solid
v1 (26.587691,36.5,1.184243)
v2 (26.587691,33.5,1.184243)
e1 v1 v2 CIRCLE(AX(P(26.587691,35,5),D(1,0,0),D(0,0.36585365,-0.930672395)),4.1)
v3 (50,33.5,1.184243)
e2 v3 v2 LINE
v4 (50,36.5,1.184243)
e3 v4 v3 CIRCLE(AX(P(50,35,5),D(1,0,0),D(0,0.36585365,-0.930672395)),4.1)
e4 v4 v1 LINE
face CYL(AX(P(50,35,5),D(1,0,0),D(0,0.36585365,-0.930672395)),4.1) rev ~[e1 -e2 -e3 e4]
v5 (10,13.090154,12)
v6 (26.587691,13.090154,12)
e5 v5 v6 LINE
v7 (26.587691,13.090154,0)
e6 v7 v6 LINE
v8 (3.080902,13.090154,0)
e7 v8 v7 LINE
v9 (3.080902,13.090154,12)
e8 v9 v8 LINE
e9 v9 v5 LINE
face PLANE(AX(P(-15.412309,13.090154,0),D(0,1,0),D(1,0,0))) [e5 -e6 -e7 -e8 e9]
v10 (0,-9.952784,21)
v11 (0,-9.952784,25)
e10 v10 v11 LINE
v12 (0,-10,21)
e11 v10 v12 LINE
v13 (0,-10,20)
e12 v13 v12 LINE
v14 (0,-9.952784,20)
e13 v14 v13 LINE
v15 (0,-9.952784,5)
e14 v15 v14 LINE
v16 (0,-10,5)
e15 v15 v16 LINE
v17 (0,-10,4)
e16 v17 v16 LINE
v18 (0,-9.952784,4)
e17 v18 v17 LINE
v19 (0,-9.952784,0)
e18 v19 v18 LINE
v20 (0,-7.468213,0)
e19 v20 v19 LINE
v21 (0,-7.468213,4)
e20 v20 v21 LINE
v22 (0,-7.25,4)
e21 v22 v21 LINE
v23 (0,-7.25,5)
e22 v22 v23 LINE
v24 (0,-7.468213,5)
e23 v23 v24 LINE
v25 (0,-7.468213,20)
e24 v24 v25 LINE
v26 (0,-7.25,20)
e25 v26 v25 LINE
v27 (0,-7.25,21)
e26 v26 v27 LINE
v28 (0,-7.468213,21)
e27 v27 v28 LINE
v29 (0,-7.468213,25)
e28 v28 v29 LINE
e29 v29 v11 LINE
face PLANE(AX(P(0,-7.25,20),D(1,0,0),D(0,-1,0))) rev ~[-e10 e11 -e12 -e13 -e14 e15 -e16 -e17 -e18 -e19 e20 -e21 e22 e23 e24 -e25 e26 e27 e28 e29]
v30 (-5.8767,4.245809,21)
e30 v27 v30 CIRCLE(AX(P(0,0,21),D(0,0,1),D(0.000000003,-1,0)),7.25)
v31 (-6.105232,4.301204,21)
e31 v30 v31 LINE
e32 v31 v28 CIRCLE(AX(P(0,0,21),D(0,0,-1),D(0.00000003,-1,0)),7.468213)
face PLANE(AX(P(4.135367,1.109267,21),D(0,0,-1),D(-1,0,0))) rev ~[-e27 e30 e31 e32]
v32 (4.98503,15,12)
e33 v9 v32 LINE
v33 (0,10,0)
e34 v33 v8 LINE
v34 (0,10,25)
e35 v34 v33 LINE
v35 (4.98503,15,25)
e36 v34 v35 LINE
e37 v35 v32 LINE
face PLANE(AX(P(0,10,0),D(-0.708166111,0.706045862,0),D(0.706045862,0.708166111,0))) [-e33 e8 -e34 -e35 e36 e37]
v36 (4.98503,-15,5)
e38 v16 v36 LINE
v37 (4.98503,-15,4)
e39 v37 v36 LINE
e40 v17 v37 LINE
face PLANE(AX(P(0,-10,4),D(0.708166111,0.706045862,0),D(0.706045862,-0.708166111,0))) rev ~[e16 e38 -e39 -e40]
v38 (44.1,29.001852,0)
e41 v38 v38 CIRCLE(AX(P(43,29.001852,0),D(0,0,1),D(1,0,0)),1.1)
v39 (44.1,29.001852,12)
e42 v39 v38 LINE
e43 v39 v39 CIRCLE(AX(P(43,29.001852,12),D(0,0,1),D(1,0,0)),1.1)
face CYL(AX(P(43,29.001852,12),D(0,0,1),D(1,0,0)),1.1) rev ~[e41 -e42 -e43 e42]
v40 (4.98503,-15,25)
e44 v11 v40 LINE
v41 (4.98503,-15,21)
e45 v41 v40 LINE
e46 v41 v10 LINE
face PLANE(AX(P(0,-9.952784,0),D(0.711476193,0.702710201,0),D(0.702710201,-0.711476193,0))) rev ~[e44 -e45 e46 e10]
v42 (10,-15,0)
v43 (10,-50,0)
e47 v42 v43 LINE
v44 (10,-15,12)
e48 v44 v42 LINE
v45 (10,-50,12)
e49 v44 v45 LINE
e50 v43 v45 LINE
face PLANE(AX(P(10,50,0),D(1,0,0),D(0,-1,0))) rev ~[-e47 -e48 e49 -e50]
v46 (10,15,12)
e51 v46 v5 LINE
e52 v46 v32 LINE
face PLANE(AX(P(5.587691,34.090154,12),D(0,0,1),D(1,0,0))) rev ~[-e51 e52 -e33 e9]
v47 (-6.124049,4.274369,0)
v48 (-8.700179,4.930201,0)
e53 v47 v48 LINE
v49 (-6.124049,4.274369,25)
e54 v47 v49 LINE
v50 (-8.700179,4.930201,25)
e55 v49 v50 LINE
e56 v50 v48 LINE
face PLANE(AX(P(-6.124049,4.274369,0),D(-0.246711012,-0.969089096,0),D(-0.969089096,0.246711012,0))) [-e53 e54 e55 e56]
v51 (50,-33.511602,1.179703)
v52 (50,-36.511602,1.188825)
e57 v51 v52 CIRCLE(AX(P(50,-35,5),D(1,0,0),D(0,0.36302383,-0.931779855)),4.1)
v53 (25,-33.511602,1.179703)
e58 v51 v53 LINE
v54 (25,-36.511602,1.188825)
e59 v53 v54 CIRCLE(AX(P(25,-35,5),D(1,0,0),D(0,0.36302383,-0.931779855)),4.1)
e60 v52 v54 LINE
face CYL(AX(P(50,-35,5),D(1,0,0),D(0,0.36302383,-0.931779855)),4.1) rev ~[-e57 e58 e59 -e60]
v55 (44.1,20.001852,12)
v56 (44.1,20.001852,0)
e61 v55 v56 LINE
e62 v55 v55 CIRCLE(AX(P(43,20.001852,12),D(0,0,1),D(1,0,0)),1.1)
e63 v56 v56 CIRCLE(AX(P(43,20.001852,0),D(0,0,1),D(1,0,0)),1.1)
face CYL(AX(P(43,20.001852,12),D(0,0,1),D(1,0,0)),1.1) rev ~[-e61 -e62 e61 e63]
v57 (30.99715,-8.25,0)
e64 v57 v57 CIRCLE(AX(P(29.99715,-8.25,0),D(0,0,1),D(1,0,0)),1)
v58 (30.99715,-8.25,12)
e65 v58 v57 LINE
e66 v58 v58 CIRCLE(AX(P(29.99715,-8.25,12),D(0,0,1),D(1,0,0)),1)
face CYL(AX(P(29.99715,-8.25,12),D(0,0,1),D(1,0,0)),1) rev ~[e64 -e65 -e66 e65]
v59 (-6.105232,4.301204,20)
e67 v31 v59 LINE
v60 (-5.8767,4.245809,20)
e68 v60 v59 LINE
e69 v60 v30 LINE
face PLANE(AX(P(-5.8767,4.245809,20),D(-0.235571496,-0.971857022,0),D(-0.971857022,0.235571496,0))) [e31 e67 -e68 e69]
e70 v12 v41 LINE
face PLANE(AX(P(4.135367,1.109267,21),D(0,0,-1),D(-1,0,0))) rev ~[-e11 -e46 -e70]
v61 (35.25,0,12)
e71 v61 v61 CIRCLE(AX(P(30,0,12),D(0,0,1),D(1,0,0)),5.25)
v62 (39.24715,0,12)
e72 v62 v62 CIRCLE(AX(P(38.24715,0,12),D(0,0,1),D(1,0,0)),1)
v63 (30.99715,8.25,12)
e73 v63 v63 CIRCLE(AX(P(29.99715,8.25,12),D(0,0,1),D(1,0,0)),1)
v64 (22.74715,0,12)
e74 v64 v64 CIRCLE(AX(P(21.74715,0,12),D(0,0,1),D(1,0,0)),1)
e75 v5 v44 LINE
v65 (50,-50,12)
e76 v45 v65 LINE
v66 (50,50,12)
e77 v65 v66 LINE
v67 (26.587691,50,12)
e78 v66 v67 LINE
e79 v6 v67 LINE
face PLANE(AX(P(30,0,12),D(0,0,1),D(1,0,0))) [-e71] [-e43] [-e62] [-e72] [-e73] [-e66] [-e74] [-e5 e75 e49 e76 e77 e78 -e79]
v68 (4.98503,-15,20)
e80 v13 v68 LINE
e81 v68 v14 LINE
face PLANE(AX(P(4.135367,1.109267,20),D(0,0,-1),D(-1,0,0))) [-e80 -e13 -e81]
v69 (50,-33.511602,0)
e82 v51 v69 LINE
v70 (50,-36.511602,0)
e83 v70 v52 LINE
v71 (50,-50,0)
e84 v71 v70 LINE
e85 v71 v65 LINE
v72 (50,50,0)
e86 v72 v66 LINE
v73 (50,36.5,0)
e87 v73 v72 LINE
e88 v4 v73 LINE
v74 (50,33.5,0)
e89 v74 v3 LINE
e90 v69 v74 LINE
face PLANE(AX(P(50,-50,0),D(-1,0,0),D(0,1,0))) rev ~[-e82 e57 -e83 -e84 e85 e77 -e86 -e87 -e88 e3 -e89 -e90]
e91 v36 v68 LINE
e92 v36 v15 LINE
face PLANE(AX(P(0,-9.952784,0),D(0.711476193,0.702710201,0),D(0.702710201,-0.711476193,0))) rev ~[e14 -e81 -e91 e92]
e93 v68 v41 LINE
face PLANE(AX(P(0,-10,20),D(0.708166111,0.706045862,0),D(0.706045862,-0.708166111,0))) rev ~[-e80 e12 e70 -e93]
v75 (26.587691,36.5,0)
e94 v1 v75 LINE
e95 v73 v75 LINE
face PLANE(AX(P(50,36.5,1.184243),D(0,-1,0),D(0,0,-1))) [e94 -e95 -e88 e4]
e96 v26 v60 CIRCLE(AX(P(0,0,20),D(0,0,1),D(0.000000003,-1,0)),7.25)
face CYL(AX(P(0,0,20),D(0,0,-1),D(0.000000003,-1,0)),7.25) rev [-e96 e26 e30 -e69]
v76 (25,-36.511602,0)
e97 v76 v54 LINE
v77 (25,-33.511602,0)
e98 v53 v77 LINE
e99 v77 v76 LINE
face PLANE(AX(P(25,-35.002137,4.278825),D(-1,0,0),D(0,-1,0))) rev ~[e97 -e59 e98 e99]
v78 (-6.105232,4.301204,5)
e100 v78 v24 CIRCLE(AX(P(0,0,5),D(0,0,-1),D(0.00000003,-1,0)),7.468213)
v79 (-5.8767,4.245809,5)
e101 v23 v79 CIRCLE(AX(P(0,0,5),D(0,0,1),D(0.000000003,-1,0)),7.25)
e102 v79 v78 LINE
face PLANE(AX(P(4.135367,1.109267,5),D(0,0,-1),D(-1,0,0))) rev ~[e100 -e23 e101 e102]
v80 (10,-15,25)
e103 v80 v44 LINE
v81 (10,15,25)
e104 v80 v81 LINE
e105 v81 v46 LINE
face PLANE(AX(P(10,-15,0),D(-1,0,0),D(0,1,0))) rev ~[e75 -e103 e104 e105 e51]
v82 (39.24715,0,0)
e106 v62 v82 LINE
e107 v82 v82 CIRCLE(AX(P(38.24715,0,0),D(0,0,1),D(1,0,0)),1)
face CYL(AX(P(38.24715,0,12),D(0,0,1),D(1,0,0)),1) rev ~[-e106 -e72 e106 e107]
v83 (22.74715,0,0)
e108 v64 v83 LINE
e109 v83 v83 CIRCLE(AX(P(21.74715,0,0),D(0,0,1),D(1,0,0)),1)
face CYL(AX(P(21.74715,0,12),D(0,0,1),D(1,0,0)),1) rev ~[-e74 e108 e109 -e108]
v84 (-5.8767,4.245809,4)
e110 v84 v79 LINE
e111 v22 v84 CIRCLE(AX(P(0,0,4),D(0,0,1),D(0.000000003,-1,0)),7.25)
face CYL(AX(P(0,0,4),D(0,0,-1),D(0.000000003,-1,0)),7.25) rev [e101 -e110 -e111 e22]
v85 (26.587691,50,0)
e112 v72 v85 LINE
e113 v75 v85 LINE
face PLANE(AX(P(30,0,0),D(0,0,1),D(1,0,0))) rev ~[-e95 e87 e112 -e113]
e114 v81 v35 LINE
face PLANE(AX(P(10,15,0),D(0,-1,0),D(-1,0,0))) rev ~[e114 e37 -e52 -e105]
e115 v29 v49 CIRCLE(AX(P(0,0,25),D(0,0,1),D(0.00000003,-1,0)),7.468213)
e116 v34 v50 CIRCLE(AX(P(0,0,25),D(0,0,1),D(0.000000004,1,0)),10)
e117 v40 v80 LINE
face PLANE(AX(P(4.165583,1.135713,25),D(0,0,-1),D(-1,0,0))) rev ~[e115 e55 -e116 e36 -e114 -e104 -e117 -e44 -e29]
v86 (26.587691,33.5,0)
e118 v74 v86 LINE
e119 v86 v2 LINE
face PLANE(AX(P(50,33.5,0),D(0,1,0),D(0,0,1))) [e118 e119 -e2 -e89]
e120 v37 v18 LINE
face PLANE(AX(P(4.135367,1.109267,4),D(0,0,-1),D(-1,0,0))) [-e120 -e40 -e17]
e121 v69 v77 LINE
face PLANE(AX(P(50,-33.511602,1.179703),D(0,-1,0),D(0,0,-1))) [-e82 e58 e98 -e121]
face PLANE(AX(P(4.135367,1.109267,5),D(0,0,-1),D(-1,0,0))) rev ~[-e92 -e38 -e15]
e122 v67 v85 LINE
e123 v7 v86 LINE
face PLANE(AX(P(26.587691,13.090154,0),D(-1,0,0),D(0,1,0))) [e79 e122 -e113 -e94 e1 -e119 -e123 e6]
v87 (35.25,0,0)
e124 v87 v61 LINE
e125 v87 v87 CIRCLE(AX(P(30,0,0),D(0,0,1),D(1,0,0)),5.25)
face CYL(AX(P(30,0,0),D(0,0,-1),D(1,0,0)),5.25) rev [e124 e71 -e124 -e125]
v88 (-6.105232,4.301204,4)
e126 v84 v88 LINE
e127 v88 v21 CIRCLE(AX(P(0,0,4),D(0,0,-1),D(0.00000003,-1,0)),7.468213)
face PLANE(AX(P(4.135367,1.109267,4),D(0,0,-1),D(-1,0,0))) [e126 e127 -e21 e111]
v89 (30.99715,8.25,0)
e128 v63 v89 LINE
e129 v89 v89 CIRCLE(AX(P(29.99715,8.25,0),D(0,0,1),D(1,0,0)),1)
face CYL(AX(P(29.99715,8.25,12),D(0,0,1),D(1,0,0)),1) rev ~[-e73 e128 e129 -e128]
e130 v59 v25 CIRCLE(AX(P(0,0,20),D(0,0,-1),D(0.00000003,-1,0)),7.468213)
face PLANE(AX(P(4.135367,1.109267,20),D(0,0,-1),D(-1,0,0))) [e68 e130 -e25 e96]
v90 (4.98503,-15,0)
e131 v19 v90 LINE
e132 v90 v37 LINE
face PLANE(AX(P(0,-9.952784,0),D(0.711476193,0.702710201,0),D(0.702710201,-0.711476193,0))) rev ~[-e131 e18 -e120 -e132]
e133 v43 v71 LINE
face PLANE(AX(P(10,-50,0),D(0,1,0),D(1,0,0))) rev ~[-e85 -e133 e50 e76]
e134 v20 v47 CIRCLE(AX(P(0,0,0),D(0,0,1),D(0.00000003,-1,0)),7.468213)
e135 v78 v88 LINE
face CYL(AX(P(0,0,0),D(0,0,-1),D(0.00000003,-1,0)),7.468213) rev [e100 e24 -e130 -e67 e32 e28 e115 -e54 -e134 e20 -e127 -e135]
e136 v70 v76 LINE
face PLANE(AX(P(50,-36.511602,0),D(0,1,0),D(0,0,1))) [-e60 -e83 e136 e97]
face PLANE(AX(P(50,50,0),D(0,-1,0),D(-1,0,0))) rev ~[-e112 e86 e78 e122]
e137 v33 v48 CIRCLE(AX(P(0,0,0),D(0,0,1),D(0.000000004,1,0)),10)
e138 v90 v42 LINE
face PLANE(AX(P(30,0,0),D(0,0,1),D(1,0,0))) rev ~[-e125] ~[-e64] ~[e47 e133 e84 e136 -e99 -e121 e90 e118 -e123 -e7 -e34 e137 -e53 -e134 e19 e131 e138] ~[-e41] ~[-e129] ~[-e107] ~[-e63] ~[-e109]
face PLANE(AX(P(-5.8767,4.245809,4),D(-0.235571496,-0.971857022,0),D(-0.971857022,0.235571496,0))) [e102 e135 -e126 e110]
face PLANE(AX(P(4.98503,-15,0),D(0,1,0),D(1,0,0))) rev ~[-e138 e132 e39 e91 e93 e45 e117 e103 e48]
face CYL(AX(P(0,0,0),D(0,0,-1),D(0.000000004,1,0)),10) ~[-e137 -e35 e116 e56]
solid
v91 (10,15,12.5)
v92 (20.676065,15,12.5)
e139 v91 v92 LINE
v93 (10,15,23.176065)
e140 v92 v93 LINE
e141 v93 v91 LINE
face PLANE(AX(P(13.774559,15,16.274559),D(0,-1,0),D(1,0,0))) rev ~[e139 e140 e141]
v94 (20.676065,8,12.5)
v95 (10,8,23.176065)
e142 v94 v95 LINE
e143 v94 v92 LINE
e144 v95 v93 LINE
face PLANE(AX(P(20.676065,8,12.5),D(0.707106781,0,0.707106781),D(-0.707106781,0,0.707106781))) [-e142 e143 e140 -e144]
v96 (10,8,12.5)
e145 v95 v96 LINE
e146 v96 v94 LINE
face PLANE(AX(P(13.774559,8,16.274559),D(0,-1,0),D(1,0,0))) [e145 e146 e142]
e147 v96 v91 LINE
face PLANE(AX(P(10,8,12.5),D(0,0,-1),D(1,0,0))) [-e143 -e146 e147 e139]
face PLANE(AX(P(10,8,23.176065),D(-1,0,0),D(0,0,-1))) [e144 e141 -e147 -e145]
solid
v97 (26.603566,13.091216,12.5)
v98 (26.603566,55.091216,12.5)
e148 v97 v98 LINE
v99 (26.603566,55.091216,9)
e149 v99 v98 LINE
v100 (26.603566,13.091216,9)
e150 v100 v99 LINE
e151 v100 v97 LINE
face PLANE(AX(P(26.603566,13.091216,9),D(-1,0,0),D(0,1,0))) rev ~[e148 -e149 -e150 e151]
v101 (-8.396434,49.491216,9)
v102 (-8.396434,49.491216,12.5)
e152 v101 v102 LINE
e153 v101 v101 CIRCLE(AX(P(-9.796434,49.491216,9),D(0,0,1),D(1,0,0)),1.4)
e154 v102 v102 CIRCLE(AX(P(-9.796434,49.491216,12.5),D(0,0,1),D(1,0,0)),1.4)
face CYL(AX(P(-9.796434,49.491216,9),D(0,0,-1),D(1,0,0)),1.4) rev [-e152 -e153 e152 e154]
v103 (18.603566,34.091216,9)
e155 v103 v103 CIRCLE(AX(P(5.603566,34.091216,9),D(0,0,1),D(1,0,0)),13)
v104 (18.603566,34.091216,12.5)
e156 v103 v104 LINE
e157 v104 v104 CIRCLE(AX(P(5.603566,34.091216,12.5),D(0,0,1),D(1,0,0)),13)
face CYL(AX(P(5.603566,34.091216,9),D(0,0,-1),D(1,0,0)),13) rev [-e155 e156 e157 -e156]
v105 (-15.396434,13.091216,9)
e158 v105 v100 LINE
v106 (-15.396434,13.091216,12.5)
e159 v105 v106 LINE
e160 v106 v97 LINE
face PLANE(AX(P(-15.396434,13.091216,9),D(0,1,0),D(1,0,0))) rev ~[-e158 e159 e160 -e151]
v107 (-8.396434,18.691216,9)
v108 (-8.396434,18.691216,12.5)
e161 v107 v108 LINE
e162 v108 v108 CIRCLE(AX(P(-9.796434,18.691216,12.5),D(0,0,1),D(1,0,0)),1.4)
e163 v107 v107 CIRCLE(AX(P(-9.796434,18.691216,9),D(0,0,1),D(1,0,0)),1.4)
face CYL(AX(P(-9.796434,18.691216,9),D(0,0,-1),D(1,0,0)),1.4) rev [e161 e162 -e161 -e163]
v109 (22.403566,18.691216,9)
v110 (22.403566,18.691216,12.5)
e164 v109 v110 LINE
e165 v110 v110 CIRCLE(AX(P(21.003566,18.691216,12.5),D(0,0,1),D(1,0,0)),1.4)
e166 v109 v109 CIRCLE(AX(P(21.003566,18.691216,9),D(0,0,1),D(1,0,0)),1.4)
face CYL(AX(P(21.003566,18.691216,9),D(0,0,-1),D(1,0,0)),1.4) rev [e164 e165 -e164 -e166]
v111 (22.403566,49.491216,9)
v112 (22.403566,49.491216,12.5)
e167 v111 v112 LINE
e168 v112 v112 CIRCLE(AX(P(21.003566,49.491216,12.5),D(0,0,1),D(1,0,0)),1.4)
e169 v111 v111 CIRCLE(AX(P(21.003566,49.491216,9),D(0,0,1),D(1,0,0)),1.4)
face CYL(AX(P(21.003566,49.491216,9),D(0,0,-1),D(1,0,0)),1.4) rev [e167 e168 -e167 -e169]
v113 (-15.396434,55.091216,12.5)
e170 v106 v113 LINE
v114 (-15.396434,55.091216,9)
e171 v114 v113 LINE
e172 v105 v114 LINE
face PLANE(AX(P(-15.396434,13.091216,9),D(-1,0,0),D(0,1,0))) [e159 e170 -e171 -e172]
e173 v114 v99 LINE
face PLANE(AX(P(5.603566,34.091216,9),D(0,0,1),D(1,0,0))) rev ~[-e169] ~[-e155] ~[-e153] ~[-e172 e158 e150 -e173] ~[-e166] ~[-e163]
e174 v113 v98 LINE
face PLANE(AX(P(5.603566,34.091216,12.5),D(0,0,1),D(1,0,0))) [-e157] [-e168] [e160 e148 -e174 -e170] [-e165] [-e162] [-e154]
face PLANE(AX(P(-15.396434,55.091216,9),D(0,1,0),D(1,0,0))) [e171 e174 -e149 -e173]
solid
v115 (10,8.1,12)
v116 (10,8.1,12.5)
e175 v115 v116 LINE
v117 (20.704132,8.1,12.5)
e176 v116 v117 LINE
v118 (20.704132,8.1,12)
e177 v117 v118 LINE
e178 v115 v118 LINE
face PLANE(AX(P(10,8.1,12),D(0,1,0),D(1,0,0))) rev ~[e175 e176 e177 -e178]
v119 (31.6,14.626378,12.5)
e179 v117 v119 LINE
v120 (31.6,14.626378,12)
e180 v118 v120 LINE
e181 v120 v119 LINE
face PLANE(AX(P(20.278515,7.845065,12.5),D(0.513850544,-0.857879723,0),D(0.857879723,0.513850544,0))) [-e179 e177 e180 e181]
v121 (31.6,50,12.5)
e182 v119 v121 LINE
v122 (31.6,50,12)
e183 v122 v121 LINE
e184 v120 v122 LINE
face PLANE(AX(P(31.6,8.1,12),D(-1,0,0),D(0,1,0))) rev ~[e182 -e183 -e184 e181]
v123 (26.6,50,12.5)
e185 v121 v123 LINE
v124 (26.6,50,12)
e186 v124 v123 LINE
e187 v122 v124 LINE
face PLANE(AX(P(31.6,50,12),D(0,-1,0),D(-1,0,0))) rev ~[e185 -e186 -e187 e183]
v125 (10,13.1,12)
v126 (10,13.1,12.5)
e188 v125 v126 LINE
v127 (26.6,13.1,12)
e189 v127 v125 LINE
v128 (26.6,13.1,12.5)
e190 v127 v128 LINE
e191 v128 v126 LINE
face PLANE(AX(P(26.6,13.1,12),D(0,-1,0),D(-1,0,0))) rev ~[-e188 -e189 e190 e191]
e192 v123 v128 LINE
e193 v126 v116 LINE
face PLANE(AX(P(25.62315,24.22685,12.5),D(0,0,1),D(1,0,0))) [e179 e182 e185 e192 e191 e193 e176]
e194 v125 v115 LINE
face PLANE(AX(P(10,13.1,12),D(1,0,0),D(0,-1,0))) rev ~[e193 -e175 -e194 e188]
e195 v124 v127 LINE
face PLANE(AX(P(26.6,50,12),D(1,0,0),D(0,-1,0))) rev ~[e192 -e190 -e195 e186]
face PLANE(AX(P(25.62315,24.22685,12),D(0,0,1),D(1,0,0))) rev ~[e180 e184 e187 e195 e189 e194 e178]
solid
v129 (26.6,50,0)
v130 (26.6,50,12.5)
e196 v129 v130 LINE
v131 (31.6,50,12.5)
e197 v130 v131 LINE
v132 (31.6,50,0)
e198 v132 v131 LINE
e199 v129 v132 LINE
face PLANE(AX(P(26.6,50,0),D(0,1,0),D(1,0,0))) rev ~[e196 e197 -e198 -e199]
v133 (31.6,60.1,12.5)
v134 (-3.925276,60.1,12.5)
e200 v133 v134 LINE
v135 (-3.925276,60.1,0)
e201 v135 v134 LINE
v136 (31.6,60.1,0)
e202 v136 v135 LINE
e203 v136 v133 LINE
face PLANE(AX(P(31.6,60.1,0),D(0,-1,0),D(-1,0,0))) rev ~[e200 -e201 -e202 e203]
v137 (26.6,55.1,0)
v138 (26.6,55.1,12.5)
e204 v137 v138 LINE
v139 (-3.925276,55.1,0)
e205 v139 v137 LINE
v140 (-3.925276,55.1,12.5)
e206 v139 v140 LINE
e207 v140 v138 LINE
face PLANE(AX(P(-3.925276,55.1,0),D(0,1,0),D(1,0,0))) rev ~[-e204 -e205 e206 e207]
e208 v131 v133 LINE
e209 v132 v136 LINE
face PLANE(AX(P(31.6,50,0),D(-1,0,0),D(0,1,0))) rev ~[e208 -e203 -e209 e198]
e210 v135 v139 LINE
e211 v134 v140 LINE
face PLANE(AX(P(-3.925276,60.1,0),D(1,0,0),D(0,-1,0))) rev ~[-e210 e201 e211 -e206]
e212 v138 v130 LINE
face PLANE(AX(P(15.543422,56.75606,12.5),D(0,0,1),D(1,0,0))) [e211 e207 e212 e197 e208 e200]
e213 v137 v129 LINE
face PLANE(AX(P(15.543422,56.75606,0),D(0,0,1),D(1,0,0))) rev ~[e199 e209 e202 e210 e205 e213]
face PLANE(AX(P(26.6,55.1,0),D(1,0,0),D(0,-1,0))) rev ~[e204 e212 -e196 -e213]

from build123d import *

# Parameters (mm, degrees)
SKETCH018_W     = 42
SKETCH018_H     = 42
SKETCH018_R     = 13
SKETCH018_R_2   = 1.4
PAD018_DEPTH    = 3.5
PAD020_DEPTH    = 0.5
POCKET003_DEPTH = 30
PAD022_DEPTH    = 12.5
PAD026_DEPTH    = 7
SKETCH019_W     = 42
SKETCH019_H     = 42
PAD019_DEPTH    = 12
SKETCH_R        = 5.25
PAD_DEPTH       = 12
POCKET_DEPTH    = 25
SKETCH005_R     = 1
POCKET001_DEPTH = 12
SKETCH014_R     = 1.1
POCKET002_DEPTH = 12
PAD016_DEPTH    = 1
PAD017_DEPTH    = 1
PAD015_DEPTH    = 25


with BuildPart() as pad018:
    # Sketch018 → Pad018 (new body)
    with BuildSketch(Plane(origin=(14.7, 64.62, 9), x_dir=(1, 0, 0), z_dir=(0, 0, 1))):
        with Locations((-9.096434, -30.528784)):
            Rectangle(SKETCH018_W, SKETCH018_H)
        with Locations((-9.096434, -30.528784)):
            Circle(SKETCH018_R, mode=Mode.SUBTRACT)
        with Locations((6.303566, -15.128784)):
            Circle(SKETCH018_R_2, mode=Mode.SUBTRACT)
        with Locations((6.303566, -45.928784)):
            Circle(SKETCH018_R_2, mode=Mode.SUBTRACT)
        with Locations((-24.496434, -15.128784)):
            Circle(SKETCH018_R_2, mode=Mode.SUBTRACT)
        with Locations((-24.496434, -45.928784)):
            Circle(SKETCH018_R_2, mode=Mode.SUBTRACT)
    extrude(amount=PAD018_DEPTH)


with BuildPart() as pocket003:
    # Sketch020 → Pad020 (new body)
    with BuildSketch(Plane.XY.offset(12)):
        Polygon((26.6, 13.1), (10, 13.1), (10, 8.1), (31.6, 8.1), (31.6, 50), (26.6, 50), align=None)
    extrude(amount=PAD020_DEPTH)

    # Sketch021 → Pocket003 (cut)
    with BuildSketch(Plane.XY.offset(12.5)):
        Polygon((20.278515, 7.845065), (31.887259, 14.79844), (31.887259, 7.845065), align=None)
    extrude(amount=-POCKET003_DEPTH, mode=Mode.SUBTRACT)


with BuildPart() as pad022:
    # Sketch024 → Pad022 (new body)
    with BuildSketch(Plane.XY):
        Polygon((26.6, 50), (31.6, 50), (31.6, 60.1), (-3.925276, 60.1), (-3.925276, 55.1), (26.6, 55.1), align=None)
    extrude(amount=PAD022_DEPTH)


with BuildPart() as pad026:
    # Sketch028 → Pad026 (new body)
    with BuildSketch(Plane(origin=(0, 8, -14), x_dir=(1, 0, 0), z_dir=(0, -1, 0))):
        Polygon((10, 37.176065), (10, 26.5), (20.676065, 26.5), align=None)
    extrude(amount=-PAD026_DEPTH)


with BuildPart() as cut001:
    # Sketch019 → Pad019 (new body)
    with BuildSketch(Plane.XY):
        with Locations((5.587691, 34.090154)):
            Rectangle(SKETCH019_W, SKETCH019_H)
    extrude(amount=PAD019_DEPTH)


with BuildPart() as pocket002:
    # Sketch → Pad (new body)
    with BuildSketch(Plane.XY):
        Polygon((50, -50), (50, 50), (10, 50), (10, 20), (10, -13.385166), (10, -50), align=None)
        with Locations((30, 0)):
            Circle(SKETCH_R, mode=Mode.SUBTRACT)
    extrude(amount=PAD_DEPTH)

    # Sketch001 → Pocket (cut)
    with BuildSketch(Plane.YZ.offset(50)):
        with BuildLine():
            Line((-33.511602, 1.179703), (-33.511602, 0))
            Line((-33.511602, 0), (-36.511602, 0))
            Line((-36.511602, 0), (-36.511602, 1.188825))
            ThreePointArc((-33.511602, 1.179703), (-34.987533, 9.099981), (-36.511602, 1.188825))
        make_face()
        with BuildLine():
            Line((36.5, 1.184243), (36.5, 0))
            Line((36.5, 0), (33.5, 0))
            Line((33.5, 0), (33.5, 1.184243))
            ThreePointArc((36.5, 1.184243), (35, 9.1), (33.5, 1.184243))
        make_face()
    extrude(amount=-POCKET_DEPTH, mode=Mode.SUBTRACT)

    # Sketch005 → Pocket001 (cut)
    with BuildSketch(Plane.XY.offset(12)):
        with Locations((29.99715, 8.25)):
            Circle(SKETCH005_R)
        with Locations((21.74715, 0)):
            Circle(SKETCH005_R)
        with Locations((38.24715, 0)):
            Circle(SKETCH005_R)
        with Locations((29.99715, -8.25)):
            Circle(SKETCH005_R)
    extrude(amount=-POCKET001_DEPTH, mode=Mode.SUBTRACT)

    # Sketch014 → Pocket002 (cut)
    with BuildSketch(Plane.XY.offset(12)):
        with Locations((43, 29.001852)):
            Circle(SKETCH014_R)
        with Locations((43, 20.001852)):
            Circle(SKETCH014_R)
    extrude(amount=-POCKET002_DEPTH, mode=Mode.SUBTRACT)


with BuildPart() as pad016:
    # Sketch016 → Pad016 (new body)
    with BuildSketch(Plane.XY.offset(32)):
        with BuildLine():
            Line((-5.8767, 4.245809), (-8.700179, 4.930201))
            ThreePointArc((0, 10), (-5.034779, 8.640081), (-8.700179, 4.930201))
            Line((0, 10), (4.98503, 15))
            Line((10, 15), (4.98503, 15))
            Line((10, -15), (10, 15))
            Line((4.98503, -15), (10, -15))
            Line((0, -10), (4.98503, -15))
            Line((0, -7.25), (0, -10))
            ThreePointArc((0, -7.25), (6.455409, 3.300029), (-5.8767, 4.245809))
        make_face()
    extrude(amount=PAD016_DEPTH)


with BuildPart() as pad017:
    # Sketch017 → Pad017 (new body)
    with BuildSketch(Plane.XY.offset(48)):
        with BuildLine():
            Line((-5.8767, 4.245809), (-8.700179, 4.930201))
            ThreePointArc((0, 10), (-5.034779, 8.640081), (-8.700179, 4.930201))
            Line((0, 10), (4.98503, 15))
            Line((10, 15), (4.98503, 15))
            Line((10, -15), (10, 15))
            Line((4.98503, -15), (10, -15))
            Line((0, -10), (4.98503, -15))
            Line((0, -7.25), (0, -10))
            ThreePointArc((0, -7.25), (6.455409, 3.300029), (-5.8767, 4.245809))
        make_face()
    extrude(amount=PAD017_DEPTH)


with BuildPart() as cut:
    # Sketch015 → Pad015 (new body)
    with BuildSketch(Plane.XY.offset(28)):
        with BuildLine():
            Line((-6.124049, 4.274369), (-8.700179, 4.930201))
            ThreePointArc((0, 10), (-5.034779, 8.640081), (-8.700179, 4.930201))
            Line((0, 10), (4.98503, 15))
            Line((10, 15), (4.98503, 15))
            Line((10, -15), (10, 15))
            Line((4.98503, -15), (10, -15))
            Line((0, -9.952784), (4.98503, -15))
            Line((0, -7.468213), (0, -9.952784))
            ThreePointArc((0, -7.468213), (6.621786, 3.453426), (-6.124049, 4.274369))
        make_face()
    extrude(amount=PAD015_DEPTH)

    # Fusion: union Pad016, Pad017
    add(pad016.part)
    add(pad017.part)


with BuildPart() as cut_1:
    # Fusion placement: moved
    add(cut.part.moved(Location((0, 0, -28))))

    # Fusion001: union Pocket002
    add(pocket002.part)

    # Cut: cut Cut001
    add(cut001.part, mode=Mode.SUBTRACT)


solid = Compound([pad018.part, pocket003.part, pad022.part, pad026.part, cut_1.part])
